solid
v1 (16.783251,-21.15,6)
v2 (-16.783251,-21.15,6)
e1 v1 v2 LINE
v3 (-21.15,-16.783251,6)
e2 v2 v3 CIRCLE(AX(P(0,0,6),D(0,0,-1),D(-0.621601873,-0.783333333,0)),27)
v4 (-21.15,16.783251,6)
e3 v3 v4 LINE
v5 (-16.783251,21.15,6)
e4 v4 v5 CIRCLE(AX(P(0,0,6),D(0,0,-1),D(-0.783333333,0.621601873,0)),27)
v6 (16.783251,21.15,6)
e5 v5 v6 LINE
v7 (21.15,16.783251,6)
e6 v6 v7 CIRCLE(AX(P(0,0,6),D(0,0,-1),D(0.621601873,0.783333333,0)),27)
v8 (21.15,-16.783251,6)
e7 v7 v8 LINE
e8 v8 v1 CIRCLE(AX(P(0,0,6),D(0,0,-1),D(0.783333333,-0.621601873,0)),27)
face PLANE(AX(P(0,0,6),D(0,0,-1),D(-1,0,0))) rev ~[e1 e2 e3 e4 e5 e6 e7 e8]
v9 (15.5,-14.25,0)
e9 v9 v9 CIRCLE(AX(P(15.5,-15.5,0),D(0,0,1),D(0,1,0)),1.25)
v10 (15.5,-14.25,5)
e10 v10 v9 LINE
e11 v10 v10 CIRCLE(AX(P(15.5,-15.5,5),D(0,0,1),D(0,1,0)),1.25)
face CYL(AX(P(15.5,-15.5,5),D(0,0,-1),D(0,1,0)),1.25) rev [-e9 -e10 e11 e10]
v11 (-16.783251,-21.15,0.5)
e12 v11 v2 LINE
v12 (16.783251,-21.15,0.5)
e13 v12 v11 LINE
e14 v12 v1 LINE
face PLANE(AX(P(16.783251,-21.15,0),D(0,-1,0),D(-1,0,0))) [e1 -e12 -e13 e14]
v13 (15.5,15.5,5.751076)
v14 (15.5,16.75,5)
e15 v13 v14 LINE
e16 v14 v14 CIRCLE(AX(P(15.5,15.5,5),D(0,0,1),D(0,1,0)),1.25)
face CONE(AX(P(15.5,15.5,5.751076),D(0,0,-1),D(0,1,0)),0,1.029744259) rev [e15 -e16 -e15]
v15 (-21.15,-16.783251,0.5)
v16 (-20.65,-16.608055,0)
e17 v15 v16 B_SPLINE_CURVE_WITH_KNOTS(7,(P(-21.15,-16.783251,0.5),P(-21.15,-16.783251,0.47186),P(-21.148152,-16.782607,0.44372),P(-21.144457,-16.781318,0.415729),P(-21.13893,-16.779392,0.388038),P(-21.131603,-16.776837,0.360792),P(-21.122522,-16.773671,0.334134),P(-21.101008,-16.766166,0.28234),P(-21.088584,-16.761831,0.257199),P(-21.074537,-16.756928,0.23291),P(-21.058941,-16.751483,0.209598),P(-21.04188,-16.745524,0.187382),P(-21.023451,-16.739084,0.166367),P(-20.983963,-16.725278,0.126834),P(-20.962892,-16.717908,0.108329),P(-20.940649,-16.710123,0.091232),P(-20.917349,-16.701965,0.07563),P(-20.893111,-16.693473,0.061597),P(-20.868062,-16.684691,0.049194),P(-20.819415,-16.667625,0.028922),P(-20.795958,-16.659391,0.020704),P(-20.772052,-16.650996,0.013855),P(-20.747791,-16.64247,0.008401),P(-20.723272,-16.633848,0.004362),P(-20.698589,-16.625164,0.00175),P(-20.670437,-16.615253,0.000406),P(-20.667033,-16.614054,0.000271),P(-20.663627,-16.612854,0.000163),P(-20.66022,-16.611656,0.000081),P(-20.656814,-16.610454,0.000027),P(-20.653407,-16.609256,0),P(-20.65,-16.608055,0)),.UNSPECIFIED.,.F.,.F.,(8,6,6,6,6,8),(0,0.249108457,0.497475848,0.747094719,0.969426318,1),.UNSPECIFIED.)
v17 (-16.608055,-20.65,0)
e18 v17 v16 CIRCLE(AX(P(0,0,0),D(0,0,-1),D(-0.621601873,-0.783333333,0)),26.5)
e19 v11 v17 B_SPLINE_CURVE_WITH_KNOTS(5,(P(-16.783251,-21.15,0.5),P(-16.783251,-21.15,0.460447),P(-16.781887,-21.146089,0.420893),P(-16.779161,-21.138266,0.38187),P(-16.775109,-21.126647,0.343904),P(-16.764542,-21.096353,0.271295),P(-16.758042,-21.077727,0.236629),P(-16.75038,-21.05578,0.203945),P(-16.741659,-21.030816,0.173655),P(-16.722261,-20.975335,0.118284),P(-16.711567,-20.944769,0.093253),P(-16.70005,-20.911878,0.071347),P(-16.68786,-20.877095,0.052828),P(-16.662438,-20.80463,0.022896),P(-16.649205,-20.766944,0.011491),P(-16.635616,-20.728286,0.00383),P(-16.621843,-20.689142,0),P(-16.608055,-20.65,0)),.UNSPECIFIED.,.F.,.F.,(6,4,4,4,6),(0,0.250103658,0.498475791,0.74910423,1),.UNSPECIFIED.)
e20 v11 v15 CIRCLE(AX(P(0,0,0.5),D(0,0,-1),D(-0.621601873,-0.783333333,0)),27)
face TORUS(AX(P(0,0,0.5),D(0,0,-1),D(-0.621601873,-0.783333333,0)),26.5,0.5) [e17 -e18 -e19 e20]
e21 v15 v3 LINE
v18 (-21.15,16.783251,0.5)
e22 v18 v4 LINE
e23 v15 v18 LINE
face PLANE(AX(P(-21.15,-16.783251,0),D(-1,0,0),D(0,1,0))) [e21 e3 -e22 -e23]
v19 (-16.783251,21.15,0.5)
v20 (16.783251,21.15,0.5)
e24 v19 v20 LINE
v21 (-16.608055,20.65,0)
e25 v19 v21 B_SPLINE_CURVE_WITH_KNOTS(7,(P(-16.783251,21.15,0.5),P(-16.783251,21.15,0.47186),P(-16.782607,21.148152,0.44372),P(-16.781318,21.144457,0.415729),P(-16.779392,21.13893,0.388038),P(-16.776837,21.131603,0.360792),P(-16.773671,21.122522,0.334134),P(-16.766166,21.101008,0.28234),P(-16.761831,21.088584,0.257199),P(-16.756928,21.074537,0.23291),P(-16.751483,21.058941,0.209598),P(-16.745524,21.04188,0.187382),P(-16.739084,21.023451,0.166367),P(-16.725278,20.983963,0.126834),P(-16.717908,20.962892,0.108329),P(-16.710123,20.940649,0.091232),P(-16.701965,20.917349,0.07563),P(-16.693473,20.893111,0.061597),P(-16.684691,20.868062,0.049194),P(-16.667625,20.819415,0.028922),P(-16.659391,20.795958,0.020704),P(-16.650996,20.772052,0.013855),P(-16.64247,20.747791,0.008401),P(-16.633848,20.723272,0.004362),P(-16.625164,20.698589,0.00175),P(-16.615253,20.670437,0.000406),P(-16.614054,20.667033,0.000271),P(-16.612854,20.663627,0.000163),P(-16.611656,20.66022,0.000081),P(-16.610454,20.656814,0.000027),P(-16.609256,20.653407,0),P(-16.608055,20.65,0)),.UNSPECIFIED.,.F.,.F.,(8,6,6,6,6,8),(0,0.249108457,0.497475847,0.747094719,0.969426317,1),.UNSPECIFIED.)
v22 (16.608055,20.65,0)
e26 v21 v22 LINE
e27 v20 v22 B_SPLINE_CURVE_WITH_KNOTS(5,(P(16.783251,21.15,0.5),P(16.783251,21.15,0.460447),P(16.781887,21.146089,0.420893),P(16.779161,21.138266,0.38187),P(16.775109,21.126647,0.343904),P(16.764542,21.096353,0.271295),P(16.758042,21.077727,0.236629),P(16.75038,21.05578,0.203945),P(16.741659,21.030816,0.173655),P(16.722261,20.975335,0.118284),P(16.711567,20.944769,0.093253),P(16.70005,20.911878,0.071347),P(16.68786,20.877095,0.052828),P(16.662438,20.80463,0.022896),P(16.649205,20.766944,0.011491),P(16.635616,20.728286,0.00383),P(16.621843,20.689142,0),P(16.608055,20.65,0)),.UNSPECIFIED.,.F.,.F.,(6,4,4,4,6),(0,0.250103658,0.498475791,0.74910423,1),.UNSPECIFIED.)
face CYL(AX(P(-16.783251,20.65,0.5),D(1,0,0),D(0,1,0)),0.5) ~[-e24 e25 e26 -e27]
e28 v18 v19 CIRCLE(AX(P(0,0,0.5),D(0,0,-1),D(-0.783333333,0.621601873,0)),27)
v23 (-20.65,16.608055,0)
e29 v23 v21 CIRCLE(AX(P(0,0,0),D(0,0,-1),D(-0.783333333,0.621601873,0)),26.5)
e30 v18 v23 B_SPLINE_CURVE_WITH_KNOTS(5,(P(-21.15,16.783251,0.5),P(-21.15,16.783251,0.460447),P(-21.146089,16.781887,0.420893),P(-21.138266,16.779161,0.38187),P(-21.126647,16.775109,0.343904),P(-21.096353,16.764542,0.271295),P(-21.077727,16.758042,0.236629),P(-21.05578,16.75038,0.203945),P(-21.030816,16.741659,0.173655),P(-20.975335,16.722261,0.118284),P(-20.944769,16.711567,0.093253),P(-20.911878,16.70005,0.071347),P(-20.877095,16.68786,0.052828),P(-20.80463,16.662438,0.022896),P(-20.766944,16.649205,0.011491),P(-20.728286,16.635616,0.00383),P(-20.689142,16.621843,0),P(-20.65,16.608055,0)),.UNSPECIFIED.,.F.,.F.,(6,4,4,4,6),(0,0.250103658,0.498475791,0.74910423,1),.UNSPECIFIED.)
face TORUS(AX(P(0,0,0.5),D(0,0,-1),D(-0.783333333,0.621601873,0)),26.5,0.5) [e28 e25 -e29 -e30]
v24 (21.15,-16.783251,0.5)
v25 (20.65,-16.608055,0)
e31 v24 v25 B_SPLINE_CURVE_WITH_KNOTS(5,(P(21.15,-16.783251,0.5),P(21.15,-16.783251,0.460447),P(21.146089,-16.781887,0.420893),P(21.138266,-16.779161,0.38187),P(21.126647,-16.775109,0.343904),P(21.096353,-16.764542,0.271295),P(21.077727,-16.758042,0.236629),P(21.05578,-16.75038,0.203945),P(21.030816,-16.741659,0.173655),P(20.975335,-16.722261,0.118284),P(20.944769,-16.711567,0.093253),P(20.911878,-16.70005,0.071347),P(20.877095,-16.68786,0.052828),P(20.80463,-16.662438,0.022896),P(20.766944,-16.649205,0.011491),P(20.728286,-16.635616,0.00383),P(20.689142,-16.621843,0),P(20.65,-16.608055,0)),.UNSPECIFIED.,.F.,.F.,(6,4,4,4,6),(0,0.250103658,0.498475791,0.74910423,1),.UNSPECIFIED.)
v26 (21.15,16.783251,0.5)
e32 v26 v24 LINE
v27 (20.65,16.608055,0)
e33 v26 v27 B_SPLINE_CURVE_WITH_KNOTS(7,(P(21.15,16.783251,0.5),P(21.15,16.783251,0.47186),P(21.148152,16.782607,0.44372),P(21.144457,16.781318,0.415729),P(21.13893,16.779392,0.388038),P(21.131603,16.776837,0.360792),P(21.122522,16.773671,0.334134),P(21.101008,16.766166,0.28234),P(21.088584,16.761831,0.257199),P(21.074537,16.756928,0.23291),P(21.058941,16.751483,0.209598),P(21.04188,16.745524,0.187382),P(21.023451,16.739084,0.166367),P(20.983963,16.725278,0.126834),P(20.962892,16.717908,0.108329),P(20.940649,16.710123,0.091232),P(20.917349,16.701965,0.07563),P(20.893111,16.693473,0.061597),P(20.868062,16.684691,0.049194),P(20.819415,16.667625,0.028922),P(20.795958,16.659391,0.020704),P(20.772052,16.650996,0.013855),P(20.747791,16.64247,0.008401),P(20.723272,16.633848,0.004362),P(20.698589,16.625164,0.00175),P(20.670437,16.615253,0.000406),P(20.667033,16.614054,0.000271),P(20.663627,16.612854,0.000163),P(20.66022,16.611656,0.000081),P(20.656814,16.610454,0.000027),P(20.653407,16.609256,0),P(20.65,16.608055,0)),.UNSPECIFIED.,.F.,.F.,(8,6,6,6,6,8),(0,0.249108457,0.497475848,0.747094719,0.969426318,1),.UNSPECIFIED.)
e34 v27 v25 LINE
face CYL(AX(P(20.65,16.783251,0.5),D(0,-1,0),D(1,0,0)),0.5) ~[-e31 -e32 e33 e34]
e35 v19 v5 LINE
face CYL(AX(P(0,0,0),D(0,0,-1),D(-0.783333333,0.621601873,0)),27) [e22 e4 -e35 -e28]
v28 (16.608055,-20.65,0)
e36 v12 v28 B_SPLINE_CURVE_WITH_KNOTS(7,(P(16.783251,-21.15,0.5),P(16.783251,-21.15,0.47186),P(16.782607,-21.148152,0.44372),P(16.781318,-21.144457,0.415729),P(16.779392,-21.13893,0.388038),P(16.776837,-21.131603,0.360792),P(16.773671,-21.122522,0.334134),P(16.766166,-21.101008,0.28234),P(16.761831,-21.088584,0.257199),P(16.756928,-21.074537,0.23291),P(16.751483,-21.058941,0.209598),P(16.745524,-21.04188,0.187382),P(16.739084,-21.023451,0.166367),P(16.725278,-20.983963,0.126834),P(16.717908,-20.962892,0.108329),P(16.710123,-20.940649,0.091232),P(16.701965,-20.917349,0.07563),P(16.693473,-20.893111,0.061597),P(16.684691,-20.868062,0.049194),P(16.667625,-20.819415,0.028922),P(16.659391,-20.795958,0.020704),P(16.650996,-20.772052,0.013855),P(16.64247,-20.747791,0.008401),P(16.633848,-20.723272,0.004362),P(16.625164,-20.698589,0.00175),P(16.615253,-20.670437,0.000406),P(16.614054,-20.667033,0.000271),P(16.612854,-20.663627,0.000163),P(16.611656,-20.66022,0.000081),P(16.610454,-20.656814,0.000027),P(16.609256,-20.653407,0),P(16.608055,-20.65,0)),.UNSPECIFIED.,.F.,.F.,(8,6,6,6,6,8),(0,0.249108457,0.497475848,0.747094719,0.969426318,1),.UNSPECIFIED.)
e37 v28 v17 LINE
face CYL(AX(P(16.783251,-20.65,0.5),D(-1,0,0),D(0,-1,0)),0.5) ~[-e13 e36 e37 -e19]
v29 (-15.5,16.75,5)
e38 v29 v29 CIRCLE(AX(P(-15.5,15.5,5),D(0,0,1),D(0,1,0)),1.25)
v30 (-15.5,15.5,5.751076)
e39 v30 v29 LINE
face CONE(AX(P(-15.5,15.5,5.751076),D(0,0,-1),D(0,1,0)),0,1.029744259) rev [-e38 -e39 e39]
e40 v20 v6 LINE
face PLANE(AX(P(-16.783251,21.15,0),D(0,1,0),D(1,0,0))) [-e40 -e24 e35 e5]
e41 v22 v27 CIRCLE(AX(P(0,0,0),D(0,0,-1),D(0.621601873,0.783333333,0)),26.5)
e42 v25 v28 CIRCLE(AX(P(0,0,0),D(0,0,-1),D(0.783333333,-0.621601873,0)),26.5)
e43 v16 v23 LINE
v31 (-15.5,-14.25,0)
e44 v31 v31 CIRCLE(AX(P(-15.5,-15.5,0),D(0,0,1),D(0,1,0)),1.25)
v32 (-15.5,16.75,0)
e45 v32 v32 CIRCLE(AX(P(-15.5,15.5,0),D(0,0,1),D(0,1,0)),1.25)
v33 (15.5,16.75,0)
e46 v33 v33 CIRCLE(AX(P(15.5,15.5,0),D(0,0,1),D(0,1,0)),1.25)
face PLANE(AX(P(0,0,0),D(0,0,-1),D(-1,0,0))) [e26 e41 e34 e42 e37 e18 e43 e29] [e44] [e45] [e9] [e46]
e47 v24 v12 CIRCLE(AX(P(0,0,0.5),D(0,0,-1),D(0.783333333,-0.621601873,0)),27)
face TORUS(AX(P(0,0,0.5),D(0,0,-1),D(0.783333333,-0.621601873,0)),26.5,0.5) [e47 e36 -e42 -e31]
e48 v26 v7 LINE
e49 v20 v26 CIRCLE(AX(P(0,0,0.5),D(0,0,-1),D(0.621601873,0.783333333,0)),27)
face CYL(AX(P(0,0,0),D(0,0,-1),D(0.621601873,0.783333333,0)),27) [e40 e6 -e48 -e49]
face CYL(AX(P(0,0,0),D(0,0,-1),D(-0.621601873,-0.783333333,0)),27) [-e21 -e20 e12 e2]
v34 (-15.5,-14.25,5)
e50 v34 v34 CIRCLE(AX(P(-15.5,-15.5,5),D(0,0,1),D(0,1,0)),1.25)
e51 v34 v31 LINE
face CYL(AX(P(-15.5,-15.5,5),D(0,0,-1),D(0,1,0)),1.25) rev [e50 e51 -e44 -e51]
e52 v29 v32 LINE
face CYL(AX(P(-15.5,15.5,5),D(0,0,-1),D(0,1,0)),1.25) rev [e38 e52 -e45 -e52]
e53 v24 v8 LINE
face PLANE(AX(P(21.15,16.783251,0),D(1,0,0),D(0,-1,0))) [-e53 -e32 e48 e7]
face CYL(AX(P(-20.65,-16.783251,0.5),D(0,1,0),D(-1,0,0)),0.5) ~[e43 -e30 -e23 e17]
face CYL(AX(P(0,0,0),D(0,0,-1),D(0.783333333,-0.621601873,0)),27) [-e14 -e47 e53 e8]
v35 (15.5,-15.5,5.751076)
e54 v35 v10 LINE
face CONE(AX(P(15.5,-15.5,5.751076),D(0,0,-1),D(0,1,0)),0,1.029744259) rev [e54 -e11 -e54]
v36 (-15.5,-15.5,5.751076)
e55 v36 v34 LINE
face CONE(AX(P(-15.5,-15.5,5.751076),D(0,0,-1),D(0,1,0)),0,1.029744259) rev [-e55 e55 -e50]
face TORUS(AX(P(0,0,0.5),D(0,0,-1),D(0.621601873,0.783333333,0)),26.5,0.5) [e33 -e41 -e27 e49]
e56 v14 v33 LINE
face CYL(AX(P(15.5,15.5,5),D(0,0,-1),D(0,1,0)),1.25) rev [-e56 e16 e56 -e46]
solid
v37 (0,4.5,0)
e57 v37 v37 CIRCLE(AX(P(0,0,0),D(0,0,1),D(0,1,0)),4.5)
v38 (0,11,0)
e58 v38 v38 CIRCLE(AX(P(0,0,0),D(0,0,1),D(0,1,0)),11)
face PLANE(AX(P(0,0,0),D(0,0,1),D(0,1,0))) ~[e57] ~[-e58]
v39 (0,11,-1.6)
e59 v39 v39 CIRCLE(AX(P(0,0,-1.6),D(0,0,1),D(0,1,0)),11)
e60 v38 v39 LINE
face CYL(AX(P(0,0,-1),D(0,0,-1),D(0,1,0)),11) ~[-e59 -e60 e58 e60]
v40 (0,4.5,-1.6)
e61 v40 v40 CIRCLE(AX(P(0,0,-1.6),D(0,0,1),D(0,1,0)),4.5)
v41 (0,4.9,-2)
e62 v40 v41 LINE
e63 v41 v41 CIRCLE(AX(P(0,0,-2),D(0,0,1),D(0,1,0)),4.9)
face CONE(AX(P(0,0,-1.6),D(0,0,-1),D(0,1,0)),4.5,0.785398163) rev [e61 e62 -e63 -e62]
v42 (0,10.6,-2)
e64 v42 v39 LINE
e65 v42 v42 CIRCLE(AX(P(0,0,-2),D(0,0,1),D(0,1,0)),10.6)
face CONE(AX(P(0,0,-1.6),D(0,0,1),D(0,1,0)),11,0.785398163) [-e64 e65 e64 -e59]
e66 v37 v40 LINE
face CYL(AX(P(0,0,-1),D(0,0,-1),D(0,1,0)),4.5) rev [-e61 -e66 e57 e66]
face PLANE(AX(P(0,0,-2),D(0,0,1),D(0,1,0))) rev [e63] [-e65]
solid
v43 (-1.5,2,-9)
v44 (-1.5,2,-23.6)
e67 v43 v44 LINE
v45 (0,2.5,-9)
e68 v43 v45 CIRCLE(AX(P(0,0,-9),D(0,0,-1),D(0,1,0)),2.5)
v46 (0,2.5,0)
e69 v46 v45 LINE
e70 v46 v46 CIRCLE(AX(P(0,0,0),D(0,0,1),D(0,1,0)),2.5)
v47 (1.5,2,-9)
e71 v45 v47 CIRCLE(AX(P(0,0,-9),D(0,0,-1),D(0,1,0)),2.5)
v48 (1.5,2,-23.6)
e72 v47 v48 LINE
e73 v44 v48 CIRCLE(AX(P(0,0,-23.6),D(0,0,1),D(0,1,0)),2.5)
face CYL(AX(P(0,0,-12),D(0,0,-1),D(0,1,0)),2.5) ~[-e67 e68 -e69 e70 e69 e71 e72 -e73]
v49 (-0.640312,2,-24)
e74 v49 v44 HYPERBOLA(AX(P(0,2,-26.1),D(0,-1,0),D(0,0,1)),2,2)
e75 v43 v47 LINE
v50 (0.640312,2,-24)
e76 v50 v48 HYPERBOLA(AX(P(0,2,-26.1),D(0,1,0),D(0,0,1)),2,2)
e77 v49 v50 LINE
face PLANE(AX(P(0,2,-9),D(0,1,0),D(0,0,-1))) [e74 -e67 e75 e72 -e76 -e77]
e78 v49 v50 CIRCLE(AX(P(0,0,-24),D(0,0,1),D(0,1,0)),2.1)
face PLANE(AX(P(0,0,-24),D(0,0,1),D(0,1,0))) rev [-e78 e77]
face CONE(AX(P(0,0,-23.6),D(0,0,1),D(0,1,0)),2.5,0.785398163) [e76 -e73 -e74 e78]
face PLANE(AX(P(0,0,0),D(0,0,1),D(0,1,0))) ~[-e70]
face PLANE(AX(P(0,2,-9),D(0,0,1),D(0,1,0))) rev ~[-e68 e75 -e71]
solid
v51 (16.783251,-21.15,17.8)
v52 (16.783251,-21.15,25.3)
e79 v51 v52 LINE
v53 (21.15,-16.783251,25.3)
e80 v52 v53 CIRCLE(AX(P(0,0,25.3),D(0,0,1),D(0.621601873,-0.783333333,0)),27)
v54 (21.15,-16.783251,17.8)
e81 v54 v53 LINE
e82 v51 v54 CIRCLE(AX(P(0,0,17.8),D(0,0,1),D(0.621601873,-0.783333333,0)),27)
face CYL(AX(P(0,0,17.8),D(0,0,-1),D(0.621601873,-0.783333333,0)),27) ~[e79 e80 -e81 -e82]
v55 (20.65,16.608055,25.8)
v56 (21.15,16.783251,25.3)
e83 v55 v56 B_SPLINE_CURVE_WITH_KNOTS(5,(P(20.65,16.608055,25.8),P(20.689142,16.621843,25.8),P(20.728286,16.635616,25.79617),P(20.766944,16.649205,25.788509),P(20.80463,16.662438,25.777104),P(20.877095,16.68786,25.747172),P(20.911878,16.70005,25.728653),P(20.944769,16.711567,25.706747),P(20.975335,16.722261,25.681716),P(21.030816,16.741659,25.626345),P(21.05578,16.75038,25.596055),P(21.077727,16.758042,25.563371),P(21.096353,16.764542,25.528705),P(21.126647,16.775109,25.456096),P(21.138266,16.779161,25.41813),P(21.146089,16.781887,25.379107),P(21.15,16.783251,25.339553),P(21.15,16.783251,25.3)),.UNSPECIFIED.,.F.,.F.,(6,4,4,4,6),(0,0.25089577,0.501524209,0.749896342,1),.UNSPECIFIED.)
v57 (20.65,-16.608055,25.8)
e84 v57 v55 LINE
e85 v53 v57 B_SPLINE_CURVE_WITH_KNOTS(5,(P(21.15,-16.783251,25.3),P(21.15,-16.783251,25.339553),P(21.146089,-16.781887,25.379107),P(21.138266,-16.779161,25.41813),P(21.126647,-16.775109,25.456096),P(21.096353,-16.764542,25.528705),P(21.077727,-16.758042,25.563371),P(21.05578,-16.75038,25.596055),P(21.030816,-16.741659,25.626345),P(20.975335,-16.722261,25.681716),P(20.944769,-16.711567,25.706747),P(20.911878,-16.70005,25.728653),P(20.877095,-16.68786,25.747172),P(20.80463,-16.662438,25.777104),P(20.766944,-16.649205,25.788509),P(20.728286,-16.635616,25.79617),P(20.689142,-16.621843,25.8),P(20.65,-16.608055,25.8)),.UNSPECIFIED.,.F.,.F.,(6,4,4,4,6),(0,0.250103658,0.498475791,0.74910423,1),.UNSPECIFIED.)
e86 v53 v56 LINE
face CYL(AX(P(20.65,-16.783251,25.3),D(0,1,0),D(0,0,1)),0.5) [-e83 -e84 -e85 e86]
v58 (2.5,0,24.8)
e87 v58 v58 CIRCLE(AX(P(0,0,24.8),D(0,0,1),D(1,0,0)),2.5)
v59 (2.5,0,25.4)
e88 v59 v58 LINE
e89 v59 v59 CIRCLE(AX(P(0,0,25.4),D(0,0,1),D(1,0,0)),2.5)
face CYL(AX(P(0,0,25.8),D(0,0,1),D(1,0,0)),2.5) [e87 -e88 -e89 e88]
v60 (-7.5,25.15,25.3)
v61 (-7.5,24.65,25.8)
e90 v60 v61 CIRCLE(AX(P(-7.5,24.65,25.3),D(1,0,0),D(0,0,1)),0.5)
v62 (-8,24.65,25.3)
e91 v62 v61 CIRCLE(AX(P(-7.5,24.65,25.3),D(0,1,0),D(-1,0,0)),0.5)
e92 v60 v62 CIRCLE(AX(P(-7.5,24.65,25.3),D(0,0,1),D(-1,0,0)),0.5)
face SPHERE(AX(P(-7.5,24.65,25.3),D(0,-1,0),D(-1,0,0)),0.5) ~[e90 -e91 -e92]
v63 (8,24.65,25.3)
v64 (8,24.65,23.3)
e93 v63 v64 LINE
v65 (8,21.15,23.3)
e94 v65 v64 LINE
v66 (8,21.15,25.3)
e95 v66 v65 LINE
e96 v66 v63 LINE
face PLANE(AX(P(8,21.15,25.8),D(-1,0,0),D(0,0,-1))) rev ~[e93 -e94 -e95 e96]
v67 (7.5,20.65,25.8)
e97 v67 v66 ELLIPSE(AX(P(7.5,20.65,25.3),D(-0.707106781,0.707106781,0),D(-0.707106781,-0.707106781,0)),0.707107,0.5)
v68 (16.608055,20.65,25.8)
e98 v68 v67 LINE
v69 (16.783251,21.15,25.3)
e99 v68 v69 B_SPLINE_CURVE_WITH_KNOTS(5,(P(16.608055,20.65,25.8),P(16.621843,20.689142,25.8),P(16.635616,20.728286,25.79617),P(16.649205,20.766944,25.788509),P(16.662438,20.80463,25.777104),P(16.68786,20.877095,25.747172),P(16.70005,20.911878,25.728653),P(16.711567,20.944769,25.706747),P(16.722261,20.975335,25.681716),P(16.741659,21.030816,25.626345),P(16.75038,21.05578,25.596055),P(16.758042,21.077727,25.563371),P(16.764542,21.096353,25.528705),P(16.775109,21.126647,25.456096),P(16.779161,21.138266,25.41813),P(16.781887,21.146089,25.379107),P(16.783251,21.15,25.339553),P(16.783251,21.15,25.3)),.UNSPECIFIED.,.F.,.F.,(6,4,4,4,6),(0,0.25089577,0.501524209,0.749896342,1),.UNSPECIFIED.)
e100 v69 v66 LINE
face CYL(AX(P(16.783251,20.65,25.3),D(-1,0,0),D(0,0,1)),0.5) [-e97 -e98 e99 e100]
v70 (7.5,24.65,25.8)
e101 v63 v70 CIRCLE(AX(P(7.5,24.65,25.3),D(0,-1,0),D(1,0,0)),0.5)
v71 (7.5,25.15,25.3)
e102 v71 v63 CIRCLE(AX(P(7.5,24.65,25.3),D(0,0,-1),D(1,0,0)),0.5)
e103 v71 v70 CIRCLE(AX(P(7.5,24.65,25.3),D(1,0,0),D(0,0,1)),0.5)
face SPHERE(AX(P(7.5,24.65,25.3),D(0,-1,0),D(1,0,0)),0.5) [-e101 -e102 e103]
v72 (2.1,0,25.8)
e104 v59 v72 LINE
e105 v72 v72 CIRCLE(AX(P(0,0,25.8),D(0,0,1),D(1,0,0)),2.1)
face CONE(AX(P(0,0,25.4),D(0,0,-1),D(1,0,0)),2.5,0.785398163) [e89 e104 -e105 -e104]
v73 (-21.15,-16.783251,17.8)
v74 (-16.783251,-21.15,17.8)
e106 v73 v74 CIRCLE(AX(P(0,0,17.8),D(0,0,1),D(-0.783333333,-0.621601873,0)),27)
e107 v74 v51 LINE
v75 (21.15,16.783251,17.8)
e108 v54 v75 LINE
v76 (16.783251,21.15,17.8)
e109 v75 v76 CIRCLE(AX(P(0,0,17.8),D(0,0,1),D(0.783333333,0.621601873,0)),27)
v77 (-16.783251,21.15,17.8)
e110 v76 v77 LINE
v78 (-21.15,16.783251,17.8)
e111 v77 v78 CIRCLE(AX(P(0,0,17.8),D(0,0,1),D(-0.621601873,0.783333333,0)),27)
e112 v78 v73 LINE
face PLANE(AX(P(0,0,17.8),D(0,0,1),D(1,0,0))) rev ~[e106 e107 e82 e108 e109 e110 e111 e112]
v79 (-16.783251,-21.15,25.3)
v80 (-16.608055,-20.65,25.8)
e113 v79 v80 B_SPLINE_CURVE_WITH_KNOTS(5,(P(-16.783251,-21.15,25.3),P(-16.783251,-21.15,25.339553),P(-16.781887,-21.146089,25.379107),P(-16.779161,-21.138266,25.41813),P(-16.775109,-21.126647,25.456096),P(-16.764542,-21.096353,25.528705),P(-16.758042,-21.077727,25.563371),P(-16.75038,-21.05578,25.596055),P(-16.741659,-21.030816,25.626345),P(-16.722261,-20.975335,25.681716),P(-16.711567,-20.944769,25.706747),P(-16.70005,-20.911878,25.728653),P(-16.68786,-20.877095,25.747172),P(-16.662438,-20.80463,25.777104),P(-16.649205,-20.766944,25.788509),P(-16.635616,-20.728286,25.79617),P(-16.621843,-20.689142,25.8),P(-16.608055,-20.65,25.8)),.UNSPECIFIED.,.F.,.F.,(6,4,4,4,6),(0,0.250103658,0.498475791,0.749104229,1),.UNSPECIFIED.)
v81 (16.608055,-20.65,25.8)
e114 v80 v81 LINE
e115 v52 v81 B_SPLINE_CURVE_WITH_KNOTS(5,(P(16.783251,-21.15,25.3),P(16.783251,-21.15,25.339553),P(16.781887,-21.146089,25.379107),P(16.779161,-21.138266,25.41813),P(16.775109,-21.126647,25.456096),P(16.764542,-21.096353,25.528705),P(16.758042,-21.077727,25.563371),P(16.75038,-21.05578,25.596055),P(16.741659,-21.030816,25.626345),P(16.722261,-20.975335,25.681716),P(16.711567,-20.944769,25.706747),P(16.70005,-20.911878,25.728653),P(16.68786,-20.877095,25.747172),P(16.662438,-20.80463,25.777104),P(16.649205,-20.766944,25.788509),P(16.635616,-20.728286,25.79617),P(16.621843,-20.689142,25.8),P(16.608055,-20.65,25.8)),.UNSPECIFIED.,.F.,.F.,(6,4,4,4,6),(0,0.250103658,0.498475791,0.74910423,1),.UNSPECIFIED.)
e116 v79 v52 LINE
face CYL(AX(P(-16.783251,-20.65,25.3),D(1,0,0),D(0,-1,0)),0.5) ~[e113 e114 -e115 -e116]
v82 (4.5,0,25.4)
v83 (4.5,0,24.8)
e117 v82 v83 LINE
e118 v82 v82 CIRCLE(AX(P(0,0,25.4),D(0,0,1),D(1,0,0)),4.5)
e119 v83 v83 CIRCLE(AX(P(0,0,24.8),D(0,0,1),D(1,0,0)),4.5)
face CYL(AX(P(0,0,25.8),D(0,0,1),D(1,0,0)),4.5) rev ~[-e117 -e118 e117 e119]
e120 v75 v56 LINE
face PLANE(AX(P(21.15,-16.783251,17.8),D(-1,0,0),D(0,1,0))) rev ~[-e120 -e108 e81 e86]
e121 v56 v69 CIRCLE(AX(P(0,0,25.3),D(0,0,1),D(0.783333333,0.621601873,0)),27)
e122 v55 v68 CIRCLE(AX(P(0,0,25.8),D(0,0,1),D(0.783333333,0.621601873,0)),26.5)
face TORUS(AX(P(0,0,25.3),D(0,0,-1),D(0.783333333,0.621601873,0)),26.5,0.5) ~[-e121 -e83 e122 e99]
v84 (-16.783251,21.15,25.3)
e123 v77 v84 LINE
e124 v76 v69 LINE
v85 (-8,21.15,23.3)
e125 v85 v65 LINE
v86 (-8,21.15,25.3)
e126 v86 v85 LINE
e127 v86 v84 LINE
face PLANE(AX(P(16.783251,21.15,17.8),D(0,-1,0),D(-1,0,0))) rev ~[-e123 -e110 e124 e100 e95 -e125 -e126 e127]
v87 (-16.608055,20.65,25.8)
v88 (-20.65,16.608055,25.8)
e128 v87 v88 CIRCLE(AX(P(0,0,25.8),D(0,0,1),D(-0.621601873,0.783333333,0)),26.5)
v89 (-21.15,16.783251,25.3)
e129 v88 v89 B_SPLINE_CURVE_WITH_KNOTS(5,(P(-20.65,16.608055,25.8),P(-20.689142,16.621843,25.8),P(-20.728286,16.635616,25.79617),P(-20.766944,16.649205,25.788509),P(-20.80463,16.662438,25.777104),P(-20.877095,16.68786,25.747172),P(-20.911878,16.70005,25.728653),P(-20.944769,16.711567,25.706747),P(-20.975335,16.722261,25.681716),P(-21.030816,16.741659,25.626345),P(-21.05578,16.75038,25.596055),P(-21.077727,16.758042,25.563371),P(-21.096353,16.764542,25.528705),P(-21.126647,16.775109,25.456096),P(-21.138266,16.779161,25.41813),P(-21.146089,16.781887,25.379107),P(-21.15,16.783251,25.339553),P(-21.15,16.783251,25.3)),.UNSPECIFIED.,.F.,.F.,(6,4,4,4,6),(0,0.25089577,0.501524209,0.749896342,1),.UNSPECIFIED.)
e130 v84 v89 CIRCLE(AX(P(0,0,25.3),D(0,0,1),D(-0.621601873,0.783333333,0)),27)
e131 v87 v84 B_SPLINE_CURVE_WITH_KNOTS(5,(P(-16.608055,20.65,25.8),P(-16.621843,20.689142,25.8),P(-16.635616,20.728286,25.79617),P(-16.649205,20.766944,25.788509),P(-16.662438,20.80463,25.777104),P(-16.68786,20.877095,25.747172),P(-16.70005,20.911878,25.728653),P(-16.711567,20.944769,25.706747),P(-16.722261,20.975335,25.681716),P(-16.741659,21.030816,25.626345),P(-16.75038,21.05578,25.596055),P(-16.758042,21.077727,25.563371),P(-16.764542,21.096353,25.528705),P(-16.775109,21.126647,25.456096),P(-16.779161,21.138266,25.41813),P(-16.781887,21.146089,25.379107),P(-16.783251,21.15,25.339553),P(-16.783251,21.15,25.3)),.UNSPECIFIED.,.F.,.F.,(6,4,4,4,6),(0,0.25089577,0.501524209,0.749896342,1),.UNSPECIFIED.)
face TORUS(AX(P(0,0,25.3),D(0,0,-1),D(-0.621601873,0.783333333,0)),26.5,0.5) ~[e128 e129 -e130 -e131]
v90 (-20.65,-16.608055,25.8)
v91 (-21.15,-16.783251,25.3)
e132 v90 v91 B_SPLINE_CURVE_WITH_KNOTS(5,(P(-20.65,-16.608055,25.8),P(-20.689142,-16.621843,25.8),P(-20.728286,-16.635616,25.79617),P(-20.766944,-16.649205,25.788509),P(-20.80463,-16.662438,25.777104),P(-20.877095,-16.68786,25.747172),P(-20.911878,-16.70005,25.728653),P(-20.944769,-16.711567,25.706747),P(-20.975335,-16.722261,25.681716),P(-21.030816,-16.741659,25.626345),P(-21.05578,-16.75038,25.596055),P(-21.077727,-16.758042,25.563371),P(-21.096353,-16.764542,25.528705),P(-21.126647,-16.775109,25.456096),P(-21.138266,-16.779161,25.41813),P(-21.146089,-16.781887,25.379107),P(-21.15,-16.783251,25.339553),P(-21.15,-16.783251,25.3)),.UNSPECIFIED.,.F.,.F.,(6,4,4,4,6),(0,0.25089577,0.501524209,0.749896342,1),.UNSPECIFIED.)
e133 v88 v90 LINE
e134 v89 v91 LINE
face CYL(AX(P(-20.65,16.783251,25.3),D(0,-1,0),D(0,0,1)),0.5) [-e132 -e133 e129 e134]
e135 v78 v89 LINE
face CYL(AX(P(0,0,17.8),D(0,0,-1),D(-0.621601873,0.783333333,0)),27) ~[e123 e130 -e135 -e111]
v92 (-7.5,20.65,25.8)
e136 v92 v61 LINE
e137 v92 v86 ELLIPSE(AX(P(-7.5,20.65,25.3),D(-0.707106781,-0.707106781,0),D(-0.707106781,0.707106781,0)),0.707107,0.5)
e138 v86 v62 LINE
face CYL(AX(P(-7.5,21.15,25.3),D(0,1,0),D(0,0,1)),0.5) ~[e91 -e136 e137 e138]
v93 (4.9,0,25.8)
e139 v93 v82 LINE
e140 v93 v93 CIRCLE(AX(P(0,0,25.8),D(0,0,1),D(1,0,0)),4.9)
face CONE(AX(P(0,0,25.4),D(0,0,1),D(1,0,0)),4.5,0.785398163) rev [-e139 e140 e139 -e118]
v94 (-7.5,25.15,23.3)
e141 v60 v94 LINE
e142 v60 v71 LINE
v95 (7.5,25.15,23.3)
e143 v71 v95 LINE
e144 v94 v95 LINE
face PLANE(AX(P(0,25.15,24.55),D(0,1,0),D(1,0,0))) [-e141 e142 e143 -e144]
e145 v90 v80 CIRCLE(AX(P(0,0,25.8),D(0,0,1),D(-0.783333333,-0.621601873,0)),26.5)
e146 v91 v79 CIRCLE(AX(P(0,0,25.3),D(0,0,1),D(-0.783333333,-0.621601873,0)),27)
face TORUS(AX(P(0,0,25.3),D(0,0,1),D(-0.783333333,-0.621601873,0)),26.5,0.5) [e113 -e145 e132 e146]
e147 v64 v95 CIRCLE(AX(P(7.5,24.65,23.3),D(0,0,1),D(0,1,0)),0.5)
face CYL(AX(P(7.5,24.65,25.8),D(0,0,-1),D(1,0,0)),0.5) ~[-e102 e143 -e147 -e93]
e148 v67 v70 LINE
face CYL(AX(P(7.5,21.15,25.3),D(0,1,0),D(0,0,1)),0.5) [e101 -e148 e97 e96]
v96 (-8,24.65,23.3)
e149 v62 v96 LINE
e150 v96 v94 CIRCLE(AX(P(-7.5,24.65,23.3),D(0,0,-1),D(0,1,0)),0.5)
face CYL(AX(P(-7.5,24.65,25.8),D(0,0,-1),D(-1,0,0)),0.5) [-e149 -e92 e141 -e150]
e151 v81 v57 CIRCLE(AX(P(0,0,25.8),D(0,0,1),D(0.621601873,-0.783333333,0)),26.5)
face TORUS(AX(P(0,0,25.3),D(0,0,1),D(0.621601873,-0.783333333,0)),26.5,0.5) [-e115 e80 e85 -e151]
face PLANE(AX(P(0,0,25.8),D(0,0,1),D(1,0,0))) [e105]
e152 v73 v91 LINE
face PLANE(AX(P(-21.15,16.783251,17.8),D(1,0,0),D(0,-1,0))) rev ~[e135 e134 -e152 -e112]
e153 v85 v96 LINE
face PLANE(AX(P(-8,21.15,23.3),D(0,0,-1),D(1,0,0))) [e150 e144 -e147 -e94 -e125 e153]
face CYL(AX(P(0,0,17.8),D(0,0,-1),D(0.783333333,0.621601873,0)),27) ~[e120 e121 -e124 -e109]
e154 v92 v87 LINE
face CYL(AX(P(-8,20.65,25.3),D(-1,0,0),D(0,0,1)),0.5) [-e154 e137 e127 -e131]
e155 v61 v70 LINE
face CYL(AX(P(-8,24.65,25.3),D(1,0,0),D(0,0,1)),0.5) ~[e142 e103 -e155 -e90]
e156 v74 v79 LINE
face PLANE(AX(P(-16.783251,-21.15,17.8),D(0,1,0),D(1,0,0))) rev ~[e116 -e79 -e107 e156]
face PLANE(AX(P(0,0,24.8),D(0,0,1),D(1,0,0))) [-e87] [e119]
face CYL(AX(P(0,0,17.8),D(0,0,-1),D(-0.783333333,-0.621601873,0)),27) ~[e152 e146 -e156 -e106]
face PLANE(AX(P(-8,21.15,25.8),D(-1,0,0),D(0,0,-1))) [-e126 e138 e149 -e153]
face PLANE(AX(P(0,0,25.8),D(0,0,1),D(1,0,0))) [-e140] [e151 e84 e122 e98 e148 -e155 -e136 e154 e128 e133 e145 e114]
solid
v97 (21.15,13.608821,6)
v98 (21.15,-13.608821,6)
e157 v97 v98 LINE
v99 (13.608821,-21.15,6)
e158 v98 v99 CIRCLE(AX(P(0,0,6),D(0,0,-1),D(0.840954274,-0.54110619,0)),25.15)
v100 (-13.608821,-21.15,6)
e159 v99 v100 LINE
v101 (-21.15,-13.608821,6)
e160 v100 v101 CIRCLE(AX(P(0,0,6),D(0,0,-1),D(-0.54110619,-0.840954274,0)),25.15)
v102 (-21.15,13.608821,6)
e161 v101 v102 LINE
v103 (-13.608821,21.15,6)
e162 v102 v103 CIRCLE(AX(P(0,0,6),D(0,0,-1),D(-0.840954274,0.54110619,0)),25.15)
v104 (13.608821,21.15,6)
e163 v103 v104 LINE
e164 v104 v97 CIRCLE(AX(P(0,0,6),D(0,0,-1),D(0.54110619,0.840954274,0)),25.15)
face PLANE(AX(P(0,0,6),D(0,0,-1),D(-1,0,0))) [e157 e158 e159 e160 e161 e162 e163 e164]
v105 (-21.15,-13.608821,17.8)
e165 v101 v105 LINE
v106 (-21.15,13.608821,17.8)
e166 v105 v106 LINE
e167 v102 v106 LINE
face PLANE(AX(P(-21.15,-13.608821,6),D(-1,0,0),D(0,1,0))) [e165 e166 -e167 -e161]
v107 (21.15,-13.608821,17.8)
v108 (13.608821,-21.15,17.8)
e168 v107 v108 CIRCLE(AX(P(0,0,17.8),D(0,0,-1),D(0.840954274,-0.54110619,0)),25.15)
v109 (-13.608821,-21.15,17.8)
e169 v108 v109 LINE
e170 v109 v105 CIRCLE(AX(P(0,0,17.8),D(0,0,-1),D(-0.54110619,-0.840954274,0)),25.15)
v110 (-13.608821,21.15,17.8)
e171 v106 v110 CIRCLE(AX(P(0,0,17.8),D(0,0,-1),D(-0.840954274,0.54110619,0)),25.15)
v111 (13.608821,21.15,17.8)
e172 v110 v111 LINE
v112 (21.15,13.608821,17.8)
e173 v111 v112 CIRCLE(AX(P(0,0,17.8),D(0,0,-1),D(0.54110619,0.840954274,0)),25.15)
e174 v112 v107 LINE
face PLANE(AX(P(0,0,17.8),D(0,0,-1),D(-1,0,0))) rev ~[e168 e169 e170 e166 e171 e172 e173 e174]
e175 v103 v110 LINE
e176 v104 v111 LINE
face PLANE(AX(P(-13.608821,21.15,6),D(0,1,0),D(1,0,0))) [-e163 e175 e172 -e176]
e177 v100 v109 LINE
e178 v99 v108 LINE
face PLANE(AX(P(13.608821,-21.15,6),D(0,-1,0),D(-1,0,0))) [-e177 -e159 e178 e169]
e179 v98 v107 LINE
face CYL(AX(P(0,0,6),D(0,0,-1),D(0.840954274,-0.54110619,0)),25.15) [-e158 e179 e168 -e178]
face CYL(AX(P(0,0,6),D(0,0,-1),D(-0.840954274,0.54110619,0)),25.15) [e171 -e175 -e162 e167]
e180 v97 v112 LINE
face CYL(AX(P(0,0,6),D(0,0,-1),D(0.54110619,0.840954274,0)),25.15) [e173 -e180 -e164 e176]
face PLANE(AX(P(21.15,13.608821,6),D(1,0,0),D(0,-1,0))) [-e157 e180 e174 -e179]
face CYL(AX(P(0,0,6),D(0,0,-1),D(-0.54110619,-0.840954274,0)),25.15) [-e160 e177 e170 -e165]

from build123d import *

# Parameters (mm, degrees)
BOSS_EXTRU_1_DEPTH           = 6
BOSS_EXTRU_2_DEPTH           = 11.8
BOSS_EXTRU_3_DEPTH           = 8
ESQUISSE4_W                  = 16
ESQUISSE4_H                  = 2.5
BOSS_EXTRU_4_DEPTH           = 4
ESQUISSE5_W                  = 2
ESQUISSE5_H                  = 6.5
ESQUISSE5_W_2                = 24
ESQUISSE5_H_2                = 2.5
CONG_1_R                     = 0.5
CONG_2_R                     = 0.5
CHANFREIN1_SIZE              = 0.4
CHANFREIN2_SIZE              = 0.4
ESQUISSE6_W                  = 15
ESQUISSE6_H                  = 0.5
ENL_V_MAT_EXTRU_1_DEPTH      = 22.1500001
ENL_V_MAT_EXTRU_1_DEPTH_BACK = 22.1500001
ESQUISSE7_R                  = 4.5
ESQUISSE7_R_2                = 2.5
ENL_V_MAT_EXTRU_2_DEPTH      = 1
CHANFREIN3_SIZE              = 0.4
TROU_TARAUD_M31_AT_2_COUNT   = 2
TROU_TARAUD_M31_AT_2_PITCH   = 31
TROU_TARAUD_M31_AT_3_COUNT   = 2
TROU_TARAUD_M31_AT_3_PITCH   = 43.840620434
TROU_TARAUD_M31_AT_4_COUNT   = 2
TROU_TARAUD_M31_AT_4_PITCH   = 31


with BuildPart() as part:
    # Esquisse1 → Boss.-Extru.1 (new body)
    with BuildSketch(Plane.XY):
        with BuildLine():
            Line((21.15, 16.783250579), (21.15, -16.783250579))
            ThreePointArc((21.15, -16.783250579), (19.091883092, -19.091883092), (16.783250579, -21.15))
            Line((16.783250579, -21.15), (-16.783250579, -21.15))
            ThreePointArc((-16.783250579, -21.15), (-19.091883092, -19.091883092), (-21.15, -16.783250579))
            Line((-21.15, -16.783250579), (-21.15, 16.783250579))
            ThreePointArc((-21.15, 16.783250579), (-19.091883092, 19.091883092), (-16.783250579, 21.15))
            Line((-16.783250579, 21.15), (16.783250579, 21.15))
            ThreePointArc((16.783250579, 21.15), (19.091883092, 19.091883092), (21.15, 16.783250579))
        make_face()
    extrude(amount=BOSS_EXTRU_1_DEPTH)

    # Congé2
    cong_2_edges = [part.edges().sort_by_distance(p)[0] for p in [
        (0, 21.15, 0),
        (19.091883092, 19.091883092, 0),
        (21.15, 0, 0),
        (19.091883092, -19.091883092, 0),
        (0, -21.15, 0),
        (-19.091883092, -19.091883092, 0),
        (-21.15, 0, 0),
        (-19.091883092, 19.091883092, 0),
    ]]
    fillet(cong_2_edges, radius=CONG_2_R)

    # Esquisse9 → Trou taraudé M31 (revolve, cut)
    with BuildSketch(Plane(origin=(15.5, -15.5, 0), x_dir=(0, 1, 0), z_dir=(1, 0, 0))):
        Polygon((0, 0), (0, 5.751075774), (1.25, 5), (1.25, 0), align=None)
    trou_taraud_m31 = revolve(axis=Axis((15.5, -15.5, -6.35), (0, 0, 1)), mode=Mode.SUBTRACT)

    # Trou taraudé M31 at 2: Trou taraudé M31 ×2
    with Locations(*[(0, i * TROU_TARAUD_M31_AT_2_PITCH, 0) for i in range(1, TROU_TARAUD_M31_AT_2_COUNT)]):
        add(trou_taraud_m31, mode=Mode.SUBTRACT)

    # Trou taraudé M31 at 3: Trou taraudé M31 ×2
    with Locations(*[Vector(-0.707106781, 0.707106781, 0) * (i * TROU_TARAUD_M31_AT_3_PITCH) for i in range(1, TROU_TARAUD_M31_AT_3_COUNT)]):
        add(trou_taraud_m31, mode=Mode.SUBTRACT)

    # Trou taraudé M31 at 4: Trou taraudé M31 ×2
    with Locations(*[(-i * TROU_TARAUD_M31_AT_4_PITCH, 0, 0) for i in range(1, TROU_TARAUD_M31_AT_4_COUNT)]):
        add(trou_taraud_m31, mode=Mode.SUBTRACT)


with BuildPart() as body_2:
    # Esquisse2 → Boss.-Extru.2 (new body)
    with BuildSketch(Plane.XY.offset(6)):
        with BuildLine():
            Line((-13.608820669, 21.15), (13.608820669, 21.15))
            ThreePointArc((13.608820669, 21.15), (17.783735547, 17.783735547), (21.15, 13.608820669))
            Line((21.15, 13.608820669), (21.15, -13.608820669))
            ThreePointArc((21.15, -13.608820669), (17.783735547, -17.783735547), (13.608820669, -21.15))
            Line((13.608820669, -21.15), (-13.608820669, -21.15))
            ThreePointArc((-13.608820669, -21.15), (-17.783735547, -17.783735547), (-21.15, -13.608820669))
            Line((-21.15, -13.608820669), (-21.15, 13.608820669))
            ThreePointArc((-21.15, 13.608820669), (-17.783735547, 17.783735547), (-13.608820669, 21.15))
        make_face()
    extrude(amount=BOSS_EXTRU_2_DEPTH)


with BuildPart() as body_3:
    # Esquisse3 → Boss.-Extru.3 (new body)
    with BuildSketch(Plane.XY.offset(17.8)):
        with BuildLine():
            Line((-16.783250579, -21.15), (16.783250579, -21.15))
            ThreePointArc((16.783250579, -21.15), (19.091883092, -19.091883092), (21.15, -16.783250579))
            Line((21.15, -16.783250579), (21.15, 16.783250579))
            ThreePointArc((21.15, 16.783250579), (19.091883092, 19.091883092), (16.783250579, 21.15))
            Line((16.783250579, 21.15), (-16.783250579, 21.15))
            ThreePointArc((-16.783250579, 21.15), (-19.091883092, 19.091883092), (-21.15, 16.783250579))
            Line((-21.15, 16.783250579), (-21.15, -16.783250579))
            ThreePointArc((-21.15, -16.783250579), (-19.091883092, -19.091883092), (-16.783250579, -21.15))
        make_face()
    extrude(amount=BOSS_EXTRU_3_DEPTH)

    # Esquisse4 → Boss.-Extru.4 (add)
    with BuildSketch(Plane(origin=(0, 21.15, 0), x_dir=(1, 0, 0), z_dir=(0, 1, 0))):
        with Locations((0, -24.55)):
            Rectangle(ESQUISSE4_W, ESQUISSE4_H)
    extrude(amount=BOSS_EXTRU_4_DEPTH)

    # Congé1
    cong_1_edges = [body_3.edges().sort_by_distance(p)[0] for p in [
        (19.091883092, -19.091883092, 25.8),
        (21.15, 0, 25.8),
        (19.091883092, 19.091883092, 25.8),
        (12.39162529, 21.15, 25.8),
        (-19.091883092, 19.091883092, 25.8),
        (-21.15, 0, 25.8),
        (-12.39162529, 21.15, 25.8),
        (8, 23.15, 25.8),
        (-8, 23.15, 25.8),
        (8, 25.15, 24.55),
        (-8, 25.15, 24.55),
        (0, 25.15, 25.8),
        (-19.091883092, -19.091883092, 25.8),
        (0, -21.15, 25.8),
    ]]
    fillet(cong_1_edges, radius=CONG_1_R)

    # Esquisse7 → Enlèv. mat.-Extru.2 (cut)
    with BuildSketch(Plane.XY.offset(25.8)):
        Circle(ESQUISSE7_R)
        Circle(ESQUISSE7_R_2, mode=Mode.SUBTRACT)
    extrude(amount=-ENL_V_MAT_EXTRU_2_DEPTH, mode=Mode.SUBTRACT)

    # Chanfrein3
    chanfrein3_edges = [body_3.edges().sort_by_distance(p)[0] for p in [
        (-4.5, 0, 25.8),
        (-2.5, 0, 25.8),
    ]]
    chamfer(chanfrein3_edges, length=CHANFREIN3_SIZE)


with BuildPart() as body_4:
    # Esquisse5 → Révolution1 (revolve)
    with BuildSketch(Plane(origin=(0, 0, 0), x_dir=(0, 0, -1), z_dir=(1, 0, 0))):
        with Locations((1, 7.75)):
            Rectangle(ESQUISSE5_W, ESQUISSE5_H)
        with Locations((12, 1.25)):
            Rectangle(ESQUISSE5_W_2, ESQUISSE5_H_2)
    revolve(axis=Axis((0, 0, 0), (0, 0, 1)))

    # Chanfrein1
    chanfrein1_edges = [body_4.edges().sort_by_distance(p)[0] for p in [
        (0, -2.5, -24),
    ]]
    chamfer(chanfrein1_edges, length=CHANFREIN1_SIZE)

    # Chanfrein2
    chanfrein2_edges = [body_4.edges().sort_by_distance(p)[0] for p in [
        (0, -11, -2),
        (0, -4.5, -2),
    ]]
    chamfer(chanfrein2_edges, length=CHANFREIN2_SIZE)

    # Esquisse6 → Enlèv. mat.-Extru.1 (cut, two sides)
    with BuildSketch(Plane(origin=(0, 0, 0), x_dir=(0, 0, -1), z_dir=(1, 0, 0))) as enl_v_mat_extru_1_sk:
        with Locations((16.5, 2.25)):
            Rectangle(ESQUISSE6_W, ESQUISSE6_H)
    extrude(amount=ENL_V_MAT_EXTRU_1_DEPTH, mode=Mode.SUBTRACT)
    extrude(enl_v_mat_extru_1_sk.sketch, amount=-ENL_V_MAT_EXTRU_1_DEPTH_BACK, mode=Mode.SUBTRACT)


solid = Compound([part.part, body_2.part, body_3.part, body_4.part])
